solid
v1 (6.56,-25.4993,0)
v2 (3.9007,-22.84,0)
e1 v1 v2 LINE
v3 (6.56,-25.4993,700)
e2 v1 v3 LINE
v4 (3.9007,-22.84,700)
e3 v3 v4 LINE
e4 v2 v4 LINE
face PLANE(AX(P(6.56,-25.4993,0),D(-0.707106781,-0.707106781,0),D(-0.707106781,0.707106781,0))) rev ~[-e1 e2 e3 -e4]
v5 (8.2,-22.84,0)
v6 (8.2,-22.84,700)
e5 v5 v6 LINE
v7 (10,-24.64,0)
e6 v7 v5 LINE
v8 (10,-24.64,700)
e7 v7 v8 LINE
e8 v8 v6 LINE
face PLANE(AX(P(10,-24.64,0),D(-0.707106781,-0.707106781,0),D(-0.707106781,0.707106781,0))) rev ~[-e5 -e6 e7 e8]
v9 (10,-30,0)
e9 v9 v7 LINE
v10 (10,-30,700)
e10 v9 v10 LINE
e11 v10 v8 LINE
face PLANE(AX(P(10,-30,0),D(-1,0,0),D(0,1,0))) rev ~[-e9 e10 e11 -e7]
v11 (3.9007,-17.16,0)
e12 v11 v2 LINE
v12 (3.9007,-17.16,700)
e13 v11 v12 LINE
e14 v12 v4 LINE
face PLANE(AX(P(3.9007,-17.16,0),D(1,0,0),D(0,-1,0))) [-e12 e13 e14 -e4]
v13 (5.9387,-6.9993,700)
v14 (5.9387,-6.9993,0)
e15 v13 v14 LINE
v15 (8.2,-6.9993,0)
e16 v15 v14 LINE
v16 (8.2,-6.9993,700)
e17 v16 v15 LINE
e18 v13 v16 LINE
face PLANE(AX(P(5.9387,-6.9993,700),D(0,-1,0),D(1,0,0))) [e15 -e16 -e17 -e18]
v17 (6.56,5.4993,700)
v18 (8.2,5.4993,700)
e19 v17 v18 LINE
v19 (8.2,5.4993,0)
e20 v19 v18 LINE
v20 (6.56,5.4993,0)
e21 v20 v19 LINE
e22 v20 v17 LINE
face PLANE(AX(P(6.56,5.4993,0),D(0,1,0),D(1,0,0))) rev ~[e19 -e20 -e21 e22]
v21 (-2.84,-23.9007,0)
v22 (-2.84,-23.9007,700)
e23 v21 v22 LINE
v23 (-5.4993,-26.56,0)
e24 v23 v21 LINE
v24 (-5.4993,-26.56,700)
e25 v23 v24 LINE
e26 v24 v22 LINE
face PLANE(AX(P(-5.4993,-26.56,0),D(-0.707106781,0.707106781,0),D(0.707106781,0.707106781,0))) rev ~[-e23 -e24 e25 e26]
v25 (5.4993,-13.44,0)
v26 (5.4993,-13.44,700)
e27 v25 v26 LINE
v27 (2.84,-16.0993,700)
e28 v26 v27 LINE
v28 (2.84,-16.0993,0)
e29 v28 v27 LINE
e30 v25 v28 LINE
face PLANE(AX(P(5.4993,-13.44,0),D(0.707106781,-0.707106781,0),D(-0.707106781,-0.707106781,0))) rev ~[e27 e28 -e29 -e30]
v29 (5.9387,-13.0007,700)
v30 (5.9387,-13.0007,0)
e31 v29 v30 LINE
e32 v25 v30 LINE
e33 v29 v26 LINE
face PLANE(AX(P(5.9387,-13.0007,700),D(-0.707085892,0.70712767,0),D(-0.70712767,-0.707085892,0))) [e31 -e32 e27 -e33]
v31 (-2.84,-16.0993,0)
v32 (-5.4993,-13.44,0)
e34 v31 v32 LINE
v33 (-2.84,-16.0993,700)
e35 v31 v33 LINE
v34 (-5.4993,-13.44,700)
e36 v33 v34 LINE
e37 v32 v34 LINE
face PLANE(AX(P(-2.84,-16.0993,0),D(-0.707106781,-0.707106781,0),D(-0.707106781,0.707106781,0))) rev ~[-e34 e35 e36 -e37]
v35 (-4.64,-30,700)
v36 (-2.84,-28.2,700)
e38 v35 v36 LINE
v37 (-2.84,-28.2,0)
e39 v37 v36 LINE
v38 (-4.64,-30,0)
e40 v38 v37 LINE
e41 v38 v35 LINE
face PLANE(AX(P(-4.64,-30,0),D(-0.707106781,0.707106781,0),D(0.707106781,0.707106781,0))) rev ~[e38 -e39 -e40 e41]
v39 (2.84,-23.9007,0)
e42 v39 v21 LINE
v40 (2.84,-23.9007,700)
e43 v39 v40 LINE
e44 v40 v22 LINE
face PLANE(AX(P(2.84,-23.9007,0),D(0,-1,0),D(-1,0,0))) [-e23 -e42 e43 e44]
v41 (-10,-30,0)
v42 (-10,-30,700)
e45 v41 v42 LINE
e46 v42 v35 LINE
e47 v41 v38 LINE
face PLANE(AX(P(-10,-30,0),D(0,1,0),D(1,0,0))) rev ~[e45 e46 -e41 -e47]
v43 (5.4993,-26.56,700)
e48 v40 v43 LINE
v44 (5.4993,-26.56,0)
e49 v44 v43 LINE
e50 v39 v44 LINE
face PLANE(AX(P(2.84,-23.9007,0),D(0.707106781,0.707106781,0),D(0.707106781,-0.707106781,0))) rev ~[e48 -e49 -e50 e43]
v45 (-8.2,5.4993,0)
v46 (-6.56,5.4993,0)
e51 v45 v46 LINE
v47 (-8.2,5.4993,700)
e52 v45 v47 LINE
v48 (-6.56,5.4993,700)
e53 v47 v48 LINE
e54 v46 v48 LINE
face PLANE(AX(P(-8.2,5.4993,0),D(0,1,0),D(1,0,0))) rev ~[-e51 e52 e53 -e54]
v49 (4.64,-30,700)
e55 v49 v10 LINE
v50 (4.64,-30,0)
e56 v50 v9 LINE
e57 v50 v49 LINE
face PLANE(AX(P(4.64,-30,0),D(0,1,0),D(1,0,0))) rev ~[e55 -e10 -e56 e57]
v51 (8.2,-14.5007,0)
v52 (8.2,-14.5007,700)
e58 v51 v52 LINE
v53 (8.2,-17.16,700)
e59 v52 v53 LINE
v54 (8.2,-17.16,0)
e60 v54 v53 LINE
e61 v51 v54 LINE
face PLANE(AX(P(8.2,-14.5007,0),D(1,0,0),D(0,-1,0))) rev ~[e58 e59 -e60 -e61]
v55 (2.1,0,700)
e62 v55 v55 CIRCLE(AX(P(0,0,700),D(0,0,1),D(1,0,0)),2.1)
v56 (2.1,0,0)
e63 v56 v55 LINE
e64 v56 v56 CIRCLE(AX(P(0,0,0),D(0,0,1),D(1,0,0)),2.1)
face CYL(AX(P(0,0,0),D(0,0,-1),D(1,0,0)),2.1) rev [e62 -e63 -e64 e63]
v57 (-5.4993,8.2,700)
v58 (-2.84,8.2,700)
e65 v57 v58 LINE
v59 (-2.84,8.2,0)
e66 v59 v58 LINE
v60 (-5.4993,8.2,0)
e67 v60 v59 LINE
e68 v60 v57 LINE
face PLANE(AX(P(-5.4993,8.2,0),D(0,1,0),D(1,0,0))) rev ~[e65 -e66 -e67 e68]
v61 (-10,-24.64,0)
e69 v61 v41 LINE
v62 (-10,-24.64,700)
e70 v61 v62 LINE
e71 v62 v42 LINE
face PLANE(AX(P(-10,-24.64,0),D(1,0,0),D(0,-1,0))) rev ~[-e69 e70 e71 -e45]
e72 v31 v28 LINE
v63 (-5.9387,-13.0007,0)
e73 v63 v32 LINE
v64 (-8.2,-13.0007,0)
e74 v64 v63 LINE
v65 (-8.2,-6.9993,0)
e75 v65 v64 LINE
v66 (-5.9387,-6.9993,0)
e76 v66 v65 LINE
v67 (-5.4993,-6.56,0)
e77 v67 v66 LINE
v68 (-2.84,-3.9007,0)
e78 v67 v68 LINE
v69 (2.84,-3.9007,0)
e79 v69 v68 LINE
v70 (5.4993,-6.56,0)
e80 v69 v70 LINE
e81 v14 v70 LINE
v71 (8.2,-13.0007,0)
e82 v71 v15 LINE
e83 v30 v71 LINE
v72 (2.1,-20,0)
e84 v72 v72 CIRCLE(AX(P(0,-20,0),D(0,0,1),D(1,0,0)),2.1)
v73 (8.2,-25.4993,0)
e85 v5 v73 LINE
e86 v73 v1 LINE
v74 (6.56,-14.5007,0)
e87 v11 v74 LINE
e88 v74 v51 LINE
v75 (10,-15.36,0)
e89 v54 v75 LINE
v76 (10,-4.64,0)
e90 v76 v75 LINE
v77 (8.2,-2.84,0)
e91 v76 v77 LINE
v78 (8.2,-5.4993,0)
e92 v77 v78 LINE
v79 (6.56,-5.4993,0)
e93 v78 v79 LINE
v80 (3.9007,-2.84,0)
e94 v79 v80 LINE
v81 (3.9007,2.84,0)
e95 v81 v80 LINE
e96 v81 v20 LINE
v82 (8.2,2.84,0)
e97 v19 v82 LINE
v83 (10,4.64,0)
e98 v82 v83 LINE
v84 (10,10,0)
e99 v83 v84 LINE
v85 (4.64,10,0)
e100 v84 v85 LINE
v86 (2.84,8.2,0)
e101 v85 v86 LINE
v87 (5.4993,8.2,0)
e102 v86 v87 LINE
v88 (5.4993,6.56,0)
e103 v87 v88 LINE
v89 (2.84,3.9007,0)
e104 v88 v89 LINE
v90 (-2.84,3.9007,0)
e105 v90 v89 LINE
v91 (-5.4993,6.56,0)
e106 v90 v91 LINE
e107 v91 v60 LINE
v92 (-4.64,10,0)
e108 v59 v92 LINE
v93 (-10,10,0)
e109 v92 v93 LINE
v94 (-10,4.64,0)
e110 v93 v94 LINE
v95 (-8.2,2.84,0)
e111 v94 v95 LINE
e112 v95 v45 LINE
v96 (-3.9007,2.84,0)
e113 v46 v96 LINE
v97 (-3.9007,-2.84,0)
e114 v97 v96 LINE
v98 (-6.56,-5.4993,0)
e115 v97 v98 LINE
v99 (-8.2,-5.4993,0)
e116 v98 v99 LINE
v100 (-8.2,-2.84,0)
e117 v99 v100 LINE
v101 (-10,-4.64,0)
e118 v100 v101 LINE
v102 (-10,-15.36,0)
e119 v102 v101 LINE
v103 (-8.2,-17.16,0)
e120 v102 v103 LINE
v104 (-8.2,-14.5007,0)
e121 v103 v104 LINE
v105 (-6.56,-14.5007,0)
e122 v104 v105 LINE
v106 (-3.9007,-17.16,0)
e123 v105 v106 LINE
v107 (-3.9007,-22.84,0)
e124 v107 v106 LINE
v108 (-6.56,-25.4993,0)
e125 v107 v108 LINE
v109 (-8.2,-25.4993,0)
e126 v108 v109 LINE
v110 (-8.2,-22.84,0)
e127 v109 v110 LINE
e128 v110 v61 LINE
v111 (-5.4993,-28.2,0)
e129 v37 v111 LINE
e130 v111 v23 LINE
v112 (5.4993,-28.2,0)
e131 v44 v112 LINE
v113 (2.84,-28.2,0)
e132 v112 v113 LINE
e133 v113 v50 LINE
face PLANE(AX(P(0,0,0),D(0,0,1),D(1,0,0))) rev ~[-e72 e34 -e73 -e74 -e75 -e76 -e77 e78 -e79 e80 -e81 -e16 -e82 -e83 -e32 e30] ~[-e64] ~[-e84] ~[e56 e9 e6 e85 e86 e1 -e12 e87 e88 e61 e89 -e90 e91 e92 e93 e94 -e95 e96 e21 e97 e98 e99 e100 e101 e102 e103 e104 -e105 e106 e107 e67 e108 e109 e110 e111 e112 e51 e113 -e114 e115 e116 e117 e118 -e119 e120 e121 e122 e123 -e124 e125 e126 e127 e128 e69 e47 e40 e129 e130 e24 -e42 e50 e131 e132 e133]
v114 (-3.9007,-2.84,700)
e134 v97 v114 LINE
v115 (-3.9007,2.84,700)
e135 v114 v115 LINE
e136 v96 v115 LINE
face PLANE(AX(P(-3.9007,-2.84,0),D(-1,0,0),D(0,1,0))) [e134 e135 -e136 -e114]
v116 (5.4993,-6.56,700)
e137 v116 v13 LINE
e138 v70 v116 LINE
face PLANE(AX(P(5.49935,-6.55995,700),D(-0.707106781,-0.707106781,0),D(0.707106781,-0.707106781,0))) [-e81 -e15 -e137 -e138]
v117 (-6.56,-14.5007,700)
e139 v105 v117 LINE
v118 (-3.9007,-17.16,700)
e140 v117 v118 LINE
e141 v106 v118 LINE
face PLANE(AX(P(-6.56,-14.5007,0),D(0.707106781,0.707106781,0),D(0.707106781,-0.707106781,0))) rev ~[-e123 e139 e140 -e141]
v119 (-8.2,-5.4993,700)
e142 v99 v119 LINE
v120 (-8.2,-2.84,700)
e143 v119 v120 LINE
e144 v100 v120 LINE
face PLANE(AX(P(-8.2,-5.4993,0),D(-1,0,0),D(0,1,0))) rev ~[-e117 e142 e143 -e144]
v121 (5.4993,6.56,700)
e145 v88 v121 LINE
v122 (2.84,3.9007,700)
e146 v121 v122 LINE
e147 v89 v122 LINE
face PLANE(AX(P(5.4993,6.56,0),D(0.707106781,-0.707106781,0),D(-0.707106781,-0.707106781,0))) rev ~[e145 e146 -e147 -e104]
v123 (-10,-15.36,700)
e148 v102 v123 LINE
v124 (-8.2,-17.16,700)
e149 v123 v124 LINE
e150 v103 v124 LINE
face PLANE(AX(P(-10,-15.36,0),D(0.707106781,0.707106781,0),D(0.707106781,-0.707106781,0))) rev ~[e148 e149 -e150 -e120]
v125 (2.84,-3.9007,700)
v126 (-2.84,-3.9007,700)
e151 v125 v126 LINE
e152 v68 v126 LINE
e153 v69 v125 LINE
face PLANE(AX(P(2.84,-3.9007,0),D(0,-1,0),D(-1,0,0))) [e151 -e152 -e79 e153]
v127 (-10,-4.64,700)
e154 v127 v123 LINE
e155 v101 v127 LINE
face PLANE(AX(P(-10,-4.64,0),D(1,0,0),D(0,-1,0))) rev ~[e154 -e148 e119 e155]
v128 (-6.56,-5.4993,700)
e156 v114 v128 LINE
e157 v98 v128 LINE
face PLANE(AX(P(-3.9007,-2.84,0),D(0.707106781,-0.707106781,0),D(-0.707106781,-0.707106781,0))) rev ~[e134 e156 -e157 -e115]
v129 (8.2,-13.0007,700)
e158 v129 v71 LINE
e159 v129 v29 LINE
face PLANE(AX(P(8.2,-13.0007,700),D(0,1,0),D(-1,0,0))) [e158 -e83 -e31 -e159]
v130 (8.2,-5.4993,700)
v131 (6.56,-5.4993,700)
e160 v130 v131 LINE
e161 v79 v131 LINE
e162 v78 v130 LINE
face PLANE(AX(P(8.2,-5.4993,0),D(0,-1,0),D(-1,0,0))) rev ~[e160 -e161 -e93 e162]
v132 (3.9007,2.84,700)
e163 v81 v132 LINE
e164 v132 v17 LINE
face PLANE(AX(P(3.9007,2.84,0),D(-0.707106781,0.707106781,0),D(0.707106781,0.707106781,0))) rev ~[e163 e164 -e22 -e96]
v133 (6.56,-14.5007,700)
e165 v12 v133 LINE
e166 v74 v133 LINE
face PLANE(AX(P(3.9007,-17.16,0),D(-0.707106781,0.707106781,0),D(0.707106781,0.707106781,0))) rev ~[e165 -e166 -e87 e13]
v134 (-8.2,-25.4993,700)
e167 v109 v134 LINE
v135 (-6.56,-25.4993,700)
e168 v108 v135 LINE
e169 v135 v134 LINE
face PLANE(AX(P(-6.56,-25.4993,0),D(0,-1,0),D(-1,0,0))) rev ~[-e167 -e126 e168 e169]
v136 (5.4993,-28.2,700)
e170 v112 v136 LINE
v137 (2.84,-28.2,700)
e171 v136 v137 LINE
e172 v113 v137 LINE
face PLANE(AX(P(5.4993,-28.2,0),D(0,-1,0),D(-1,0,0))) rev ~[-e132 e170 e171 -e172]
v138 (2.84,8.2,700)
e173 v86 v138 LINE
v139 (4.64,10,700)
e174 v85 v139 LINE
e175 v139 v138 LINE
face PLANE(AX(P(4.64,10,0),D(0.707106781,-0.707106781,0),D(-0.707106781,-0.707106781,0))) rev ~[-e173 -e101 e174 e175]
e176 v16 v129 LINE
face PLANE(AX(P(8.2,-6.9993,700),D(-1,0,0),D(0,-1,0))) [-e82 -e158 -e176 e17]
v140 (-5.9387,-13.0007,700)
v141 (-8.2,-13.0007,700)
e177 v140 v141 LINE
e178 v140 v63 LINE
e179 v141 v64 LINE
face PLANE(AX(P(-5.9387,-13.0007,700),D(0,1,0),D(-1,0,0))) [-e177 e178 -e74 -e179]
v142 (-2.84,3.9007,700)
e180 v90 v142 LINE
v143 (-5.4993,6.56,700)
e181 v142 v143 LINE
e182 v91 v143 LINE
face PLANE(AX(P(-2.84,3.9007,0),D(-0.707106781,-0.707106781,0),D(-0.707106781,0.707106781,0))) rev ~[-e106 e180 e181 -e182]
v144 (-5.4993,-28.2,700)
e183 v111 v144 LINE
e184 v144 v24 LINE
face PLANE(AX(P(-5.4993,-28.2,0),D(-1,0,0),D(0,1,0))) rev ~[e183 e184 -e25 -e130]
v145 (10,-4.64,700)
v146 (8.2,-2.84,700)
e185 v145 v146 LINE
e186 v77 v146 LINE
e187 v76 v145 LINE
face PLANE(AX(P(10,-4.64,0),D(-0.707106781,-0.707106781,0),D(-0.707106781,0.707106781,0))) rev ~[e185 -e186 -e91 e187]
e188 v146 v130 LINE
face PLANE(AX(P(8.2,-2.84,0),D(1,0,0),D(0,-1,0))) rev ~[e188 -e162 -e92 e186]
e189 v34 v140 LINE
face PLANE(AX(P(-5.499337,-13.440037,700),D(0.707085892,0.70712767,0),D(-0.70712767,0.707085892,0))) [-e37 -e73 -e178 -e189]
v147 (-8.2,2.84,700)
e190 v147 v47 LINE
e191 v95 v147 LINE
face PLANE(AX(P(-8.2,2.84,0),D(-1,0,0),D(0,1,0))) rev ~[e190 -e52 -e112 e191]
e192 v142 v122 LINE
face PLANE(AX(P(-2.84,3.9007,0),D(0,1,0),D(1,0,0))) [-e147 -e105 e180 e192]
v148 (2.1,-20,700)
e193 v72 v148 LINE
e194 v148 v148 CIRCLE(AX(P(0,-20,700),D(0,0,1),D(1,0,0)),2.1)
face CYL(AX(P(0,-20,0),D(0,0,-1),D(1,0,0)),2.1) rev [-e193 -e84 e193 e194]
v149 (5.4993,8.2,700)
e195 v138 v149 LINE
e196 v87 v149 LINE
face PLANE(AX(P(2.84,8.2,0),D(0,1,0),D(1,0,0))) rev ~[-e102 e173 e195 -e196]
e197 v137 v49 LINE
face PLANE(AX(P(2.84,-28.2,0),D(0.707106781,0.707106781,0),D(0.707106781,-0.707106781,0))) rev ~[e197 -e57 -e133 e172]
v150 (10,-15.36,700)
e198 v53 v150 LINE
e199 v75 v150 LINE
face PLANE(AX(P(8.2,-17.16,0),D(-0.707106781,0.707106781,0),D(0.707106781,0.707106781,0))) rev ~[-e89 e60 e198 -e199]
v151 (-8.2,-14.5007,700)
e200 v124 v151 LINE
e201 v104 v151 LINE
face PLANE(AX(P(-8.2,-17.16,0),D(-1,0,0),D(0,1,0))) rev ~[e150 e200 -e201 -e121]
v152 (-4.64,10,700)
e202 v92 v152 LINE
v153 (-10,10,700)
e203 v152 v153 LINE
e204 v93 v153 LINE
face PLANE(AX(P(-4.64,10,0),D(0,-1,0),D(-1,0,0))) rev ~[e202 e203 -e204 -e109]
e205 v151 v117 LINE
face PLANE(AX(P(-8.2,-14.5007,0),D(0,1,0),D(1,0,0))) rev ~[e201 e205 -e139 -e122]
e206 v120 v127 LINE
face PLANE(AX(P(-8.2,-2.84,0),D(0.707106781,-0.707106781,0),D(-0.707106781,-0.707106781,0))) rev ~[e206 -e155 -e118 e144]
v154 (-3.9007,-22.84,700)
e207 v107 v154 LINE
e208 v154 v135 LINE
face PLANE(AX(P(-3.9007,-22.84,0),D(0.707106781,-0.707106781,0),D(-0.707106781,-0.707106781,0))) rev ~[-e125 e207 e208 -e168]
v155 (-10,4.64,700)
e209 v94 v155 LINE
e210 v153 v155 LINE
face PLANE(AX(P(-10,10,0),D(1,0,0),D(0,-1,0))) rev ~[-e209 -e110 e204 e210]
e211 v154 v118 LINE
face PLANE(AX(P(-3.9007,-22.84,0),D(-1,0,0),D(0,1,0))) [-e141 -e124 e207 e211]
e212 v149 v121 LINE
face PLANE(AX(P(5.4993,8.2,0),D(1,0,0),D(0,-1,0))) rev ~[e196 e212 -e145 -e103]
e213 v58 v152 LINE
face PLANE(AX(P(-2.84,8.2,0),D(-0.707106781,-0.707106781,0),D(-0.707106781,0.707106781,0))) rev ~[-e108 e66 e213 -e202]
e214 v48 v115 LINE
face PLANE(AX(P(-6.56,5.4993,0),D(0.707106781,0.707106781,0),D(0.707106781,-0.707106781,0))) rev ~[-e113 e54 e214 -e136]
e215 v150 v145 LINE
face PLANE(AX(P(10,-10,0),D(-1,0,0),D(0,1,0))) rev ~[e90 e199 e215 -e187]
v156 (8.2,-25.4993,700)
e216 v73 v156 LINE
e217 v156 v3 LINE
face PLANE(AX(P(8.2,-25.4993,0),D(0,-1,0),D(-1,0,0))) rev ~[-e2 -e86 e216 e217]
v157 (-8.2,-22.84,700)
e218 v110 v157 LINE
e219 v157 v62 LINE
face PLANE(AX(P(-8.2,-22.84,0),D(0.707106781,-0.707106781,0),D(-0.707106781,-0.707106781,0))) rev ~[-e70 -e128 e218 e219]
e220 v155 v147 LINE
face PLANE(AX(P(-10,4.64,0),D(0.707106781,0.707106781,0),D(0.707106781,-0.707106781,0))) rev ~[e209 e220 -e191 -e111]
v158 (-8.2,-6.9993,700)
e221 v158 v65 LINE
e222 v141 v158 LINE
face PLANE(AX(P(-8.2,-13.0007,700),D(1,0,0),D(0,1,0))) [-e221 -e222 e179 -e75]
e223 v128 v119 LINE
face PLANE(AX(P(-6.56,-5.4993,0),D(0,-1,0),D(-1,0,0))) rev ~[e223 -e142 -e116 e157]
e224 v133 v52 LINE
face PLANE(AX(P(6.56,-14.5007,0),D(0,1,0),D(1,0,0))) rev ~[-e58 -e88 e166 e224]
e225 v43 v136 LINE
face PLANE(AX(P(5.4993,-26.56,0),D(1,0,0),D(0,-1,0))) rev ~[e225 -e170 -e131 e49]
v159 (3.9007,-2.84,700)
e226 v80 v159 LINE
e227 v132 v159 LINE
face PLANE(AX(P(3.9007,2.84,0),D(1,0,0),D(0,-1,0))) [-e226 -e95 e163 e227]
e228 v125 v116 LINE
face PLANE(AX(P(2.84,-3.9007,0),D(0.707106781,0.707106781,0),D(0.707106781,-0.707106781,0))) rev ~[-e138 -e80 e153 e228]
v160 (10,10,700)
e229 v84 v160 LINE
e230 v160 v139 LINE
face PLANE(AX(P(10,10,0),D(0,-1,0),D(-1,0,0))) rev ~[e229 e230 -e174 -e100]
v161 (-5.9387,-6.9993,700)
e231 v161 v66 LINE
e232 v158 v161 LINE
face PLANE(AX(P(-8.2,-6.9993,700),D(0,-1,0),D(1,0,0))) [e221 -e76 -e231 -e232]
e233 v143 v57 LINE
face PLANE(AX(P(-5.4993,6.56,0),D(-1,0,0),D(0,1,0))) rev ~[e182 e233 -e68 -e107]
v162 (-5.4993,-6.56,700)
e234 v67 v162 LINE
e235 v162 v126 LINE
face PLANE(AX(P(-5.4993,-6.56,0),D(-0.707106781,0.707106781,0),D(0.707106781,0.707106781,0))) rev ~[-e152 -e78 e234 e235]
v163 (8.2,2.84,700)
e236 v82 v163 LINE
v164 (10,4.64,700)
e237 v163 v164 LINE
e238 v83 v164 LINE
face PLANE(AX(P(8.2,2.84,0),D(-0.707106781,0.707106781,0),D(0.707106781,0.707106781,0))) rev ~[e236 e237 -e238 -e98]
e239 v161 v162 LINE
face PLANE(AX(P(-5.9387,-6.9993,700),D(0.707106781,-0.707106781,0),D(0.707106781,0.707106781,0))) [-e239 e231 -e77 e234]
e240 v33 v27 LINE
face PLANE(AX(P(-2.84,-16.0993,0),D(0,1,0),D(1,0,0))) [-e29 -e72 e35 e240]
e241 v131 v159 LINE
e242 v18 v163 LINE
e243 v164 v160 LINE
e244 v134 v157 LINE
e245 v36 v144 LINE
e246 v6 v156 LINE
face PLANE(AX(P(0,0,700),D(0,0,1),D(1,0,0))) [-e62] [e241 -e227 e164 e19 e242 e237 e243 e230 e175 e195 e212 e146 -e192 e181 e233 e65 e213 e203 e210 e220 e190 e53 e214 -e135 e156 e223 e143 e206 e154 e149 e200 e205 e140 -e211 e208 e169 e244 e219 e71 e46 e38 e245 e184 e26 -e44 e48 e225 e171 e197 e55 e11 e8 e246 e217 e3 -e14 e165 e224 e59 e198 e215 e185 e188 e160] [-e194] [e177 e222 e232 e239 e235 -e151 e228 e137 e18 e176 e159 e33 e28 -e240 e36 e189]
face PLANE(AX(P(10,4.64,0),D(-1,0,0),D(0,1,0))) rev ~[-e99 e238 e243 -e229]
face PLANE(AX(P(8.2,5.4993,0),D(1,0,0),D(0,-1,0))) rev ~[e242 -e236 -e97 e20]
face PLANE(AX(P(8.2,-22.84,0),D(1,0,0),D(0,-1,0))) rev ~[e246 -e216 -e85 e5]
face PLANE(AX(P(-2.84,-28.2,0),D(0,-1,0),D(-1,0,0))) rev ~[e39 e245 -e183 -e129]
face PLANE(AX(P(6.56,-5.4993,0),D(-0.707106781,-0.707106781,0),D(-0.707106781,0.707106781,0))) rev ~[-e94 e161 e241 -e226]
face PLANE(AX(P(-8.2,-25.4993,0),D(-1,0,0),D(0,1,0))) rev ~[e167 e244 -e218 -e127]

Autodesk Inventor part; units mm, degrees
ref_plane "YZ Plane" through (0, 0, 0) normal (1, 0, 0) x (0, 1, 0)
sketch "Sketch1" plane through (0, 0, 0) normal (0, 0, 1) x (1, 0, 0)
  line L0 (-3.9007, 3.9007) -> (3.9007, 3.9007)
  line L1 (3.9007, 3.9007) -> (3.9007, -3.9007)
  line L2 (3.9007, -3.9007) -> (-3.9007, -3.9007)
  line L3 (-3.9007, -3.9007) -> (-3.9007, 3.9007)
  line L4 (0, 3.9007) -> (0, -3.9007) construction
  line L5 (-3.9007, 0) -> (3.9007, 0) construction
  circle A0 centre (0, 0) radius 2.1
  line L6 (0, 0) -> (-16.1173, 16.1173) construction
  line L7 (0, 0) -> (22.7933, 0) construction
  line L8 (-2.84, 3.9007) -> (-5.4993, 6.56)
  line L9 (-5.4993, 6.56) -> (-5.4993, 8.2)
  line L10 (-5.4993, 8.2) -> (-2.84, 8.2)
  line L11 (-2.84, 8.2) -> (-4.64, 10)
  line L12 (-4.64, 10) -> (-10, 10)
  line L13 (-10, 10) -> (-10, 4.64)
  line L14 (-10, 4.64) -> (-8.2, 2.84)
  line L15 (-8.2, 2.84) -> (-8.2, 5.4993)
  line L16 (-8.2, 5.4993) -> (-6.56, 5.4993)
  line L17 (-6.56, 5.4993) -> (-3.9007, 2.84)
  line L18 (-3.9007, 2.84) -> (-11.3102, 2.84) construction
  line L19 (-2.84, 3.9007) -> (-3.9007, 3.9007)
  line L20 (-3.9007, 2.84) -> (-3.9007, 3.9007)
  line L21 (-3.9007, -2.84) -> (-6.56, -5.4993)
  line L22 (-6.56, -5.4993) -> (-8.2, -5.4993)
  line L23 (-8.2, -5.4993) -> (-8.2, -2.84)
  line L24 (-8.2, -2.84) -> (-10, -4.64)
  line L25 (-10, -4.64) -> (-10, -10)
  line L26 (-10, -10) -> (-4.64, -10)
  line L27 (-4.64, -10) -> (-2.84, -8.2)
  line L28 (-2.84, -8.2) -> (-5.4993, -8.2)
  line L29 (-5.4993, -8.2) -> (-5.4993, -6.56)
  line L30 (-5.4993, -6.56) -> (-2.84, -3.9007)
  line L31 (-3.9007, -2.84) -> (-3.9007, -3.9007)
  line L32 (-2.84, -3.9007) -> (-3.9007, -3.9007)
  line L33 (2.84, -3.9007) -> (5.4993, -6.56)
  line L34 (5.4993, -6.56) -> (5.4993, -8.2)
  line L35 (5.4993, -8.2) -> (2.84, -8.2)
  line L36 (2.84, -8.2) -> (4.64, -10)
  line L37 (4.64, -10) -> (10, -10)
  line L38 (10, -10) -> (10, -4.64)
  line L39 (10, -4.64) -> (8.2, -2.84)
  line L40 (8.2, -2.84) -> (8.2, -5.4993)
  line L41 (8.2, -5.4993) -> (6.56, -5.4993)
  line L42 (6.56, -5.4993) -> (3.9007, -2.84)
  line L43 (2.84, -3.9007) -> (3.9007, -3.9007)
  line L44 (3.9007, -2.84) -> (3.9007, -3.9007)
  line L45 (3.9007, 2.84) -> (6.56, 5.4993)
  line L46 (6.56, 5.4993) -> (8.2, 5.4993)
  line L47 (8.2, 5.4993) -> (8.2, 2.84)
  line L48 (8.2, 2.84) -> (10, 4.64)
  line L49 (10, 4.64) -> (10, 10)
  line L50 (10, 10) -> (4.64, 10)
  line L51 (4.64, 10) -> (2.84, 8.2)
  line L52 (2.84, 8.2) -> (5.4993, 8.2)
  line L53 (5.4993, 8.2) -> (5.4993, 6.56)
  line L54 (5.4993, 6.56) -> (2.84, 3.9007)
  line L55 (3.9007, 2.84) -> (3.9007, 3.9007)
  line L56 (2.84, 3.9007) -> (3.9007, 3.9007)
  dimension "d7" = 4.2
  dimension "d8" = 135
  dimension "d9" = 1.5
  dimension "d10" = 1.64
  dimension "d11" = 1.8
  dimension "d12" = 2.84
  dimension "d13" = 10
  dimension "d16" = 360
extrude "Extrusion1" add sketch "Sketch1" along normal blind 700
pattern_linear "Rectangular Pattern1" count 2 spacing 20 along (0, -1, 0) of "Extrusion1"
sketch "Sketch2" plane through (0, 0, 700) normal (0, 0, 1) x (1, 0, 0)
  line L0 (8.2, -2.84) -> (8.2, -5.4993) projected
  line L1 (8.2, -5.4993) -> (6.56, -5.4993) projected
  line L2 (-6.56, -5.4993) -> (-8.2, -5.4993) projected
  line L3 (-8.2, -5.4993) -> (-8.2, -2.84) projected
  line L4 (-8.2, -14.5007) -> (-6.56, -14.5007) projected
  line L5 (6.56, -14.5007) -> (8.2, -14.5007) projected
  line L6 (5.4993, -11.8) -> (5.4993, -13.44) projected
  line L7 (5.4993, -13.44) -> (2.84, -16.0993) projected
  line L8 (-2.84, -16.0993) -> (-5.4993, -13.44) projected
  line L9 (-5.4993, -8.2) -> (-5.4993, -6.56) projected
  line L10 (-5.4993, -6.56) -> (-2.84, -3.9007) projected
  line L11 (2.84, -3.9007) -> (5.4993, -6.56) projected
  line L12 (2.84, -8.2) -> (4.64, -10) projected
  line L13 (-8.2, -6.9993) -> (-5.9387, -6.9993)
  line L14 (-5.9387, -6.9993) -> (-4.1231, -5.1837)
  line L15 (-4.1231, -5.1837) -> (4.1231, -5.1837)
  line L16 (4.1231, -5.1837) -> (5.9387, -6.9993)
  line L17 (5.9387, -6.9993) -> (8.2, -6.9993)
  line L18 (8.2, -6.9993) -> (8.2, -13.0007)
  line L19 (8.2, -13.0007) -> (5.9387, -13.0007)
  line L20 (5.9387, -13.0007) -> (4.2461, -14.6932)
  line L21 (4.2461, -14.6932) -> (-4.2461, -14.6932)
  line L22 (-4.2461, -14.6932) -> (-5.9387, -13.0007)
  line L23 (-5.9387, -13.0007) -> (-8.2, -13.0007)
  line L24 (-8.2, -13.0007) -> (-8.2, -6.9993)
  dimension "d23" = 1.5
  dimension "d24" = 1.5
  dimension "d25" = 1.5
  dimension "d26" = 1.5
extrude "Extrusion2" cut sketch "Sketch2" against normal up to next
ref_plane "Work Plane3" through (0, -20, 0) normal (0, 1, 0) x (-1, 0, 0)
ref_plane "Work Plane2" through (0, 0, 0) normal (0, 1, 0) x (-1, 0, 0)
ref_plane "Work Plane4" through (0, 0, 0) normal (0, 1, 0) x (-1, 0, 0)
ref_plane "Work Plane5" through (0, -10, 0) normal (0, 1, 0) x (-1, 0, 0)
ref_plane "Work Plane1" through (0, -10, 0) normal (0, 1, 0) x (-1, 0, 0)
equation "\"d24\" = d23"
equation "\"d25\" = d23"
equation "\"d26\" = d23"
properties part number "20x40x597mm" material "Aluminum 6061"
